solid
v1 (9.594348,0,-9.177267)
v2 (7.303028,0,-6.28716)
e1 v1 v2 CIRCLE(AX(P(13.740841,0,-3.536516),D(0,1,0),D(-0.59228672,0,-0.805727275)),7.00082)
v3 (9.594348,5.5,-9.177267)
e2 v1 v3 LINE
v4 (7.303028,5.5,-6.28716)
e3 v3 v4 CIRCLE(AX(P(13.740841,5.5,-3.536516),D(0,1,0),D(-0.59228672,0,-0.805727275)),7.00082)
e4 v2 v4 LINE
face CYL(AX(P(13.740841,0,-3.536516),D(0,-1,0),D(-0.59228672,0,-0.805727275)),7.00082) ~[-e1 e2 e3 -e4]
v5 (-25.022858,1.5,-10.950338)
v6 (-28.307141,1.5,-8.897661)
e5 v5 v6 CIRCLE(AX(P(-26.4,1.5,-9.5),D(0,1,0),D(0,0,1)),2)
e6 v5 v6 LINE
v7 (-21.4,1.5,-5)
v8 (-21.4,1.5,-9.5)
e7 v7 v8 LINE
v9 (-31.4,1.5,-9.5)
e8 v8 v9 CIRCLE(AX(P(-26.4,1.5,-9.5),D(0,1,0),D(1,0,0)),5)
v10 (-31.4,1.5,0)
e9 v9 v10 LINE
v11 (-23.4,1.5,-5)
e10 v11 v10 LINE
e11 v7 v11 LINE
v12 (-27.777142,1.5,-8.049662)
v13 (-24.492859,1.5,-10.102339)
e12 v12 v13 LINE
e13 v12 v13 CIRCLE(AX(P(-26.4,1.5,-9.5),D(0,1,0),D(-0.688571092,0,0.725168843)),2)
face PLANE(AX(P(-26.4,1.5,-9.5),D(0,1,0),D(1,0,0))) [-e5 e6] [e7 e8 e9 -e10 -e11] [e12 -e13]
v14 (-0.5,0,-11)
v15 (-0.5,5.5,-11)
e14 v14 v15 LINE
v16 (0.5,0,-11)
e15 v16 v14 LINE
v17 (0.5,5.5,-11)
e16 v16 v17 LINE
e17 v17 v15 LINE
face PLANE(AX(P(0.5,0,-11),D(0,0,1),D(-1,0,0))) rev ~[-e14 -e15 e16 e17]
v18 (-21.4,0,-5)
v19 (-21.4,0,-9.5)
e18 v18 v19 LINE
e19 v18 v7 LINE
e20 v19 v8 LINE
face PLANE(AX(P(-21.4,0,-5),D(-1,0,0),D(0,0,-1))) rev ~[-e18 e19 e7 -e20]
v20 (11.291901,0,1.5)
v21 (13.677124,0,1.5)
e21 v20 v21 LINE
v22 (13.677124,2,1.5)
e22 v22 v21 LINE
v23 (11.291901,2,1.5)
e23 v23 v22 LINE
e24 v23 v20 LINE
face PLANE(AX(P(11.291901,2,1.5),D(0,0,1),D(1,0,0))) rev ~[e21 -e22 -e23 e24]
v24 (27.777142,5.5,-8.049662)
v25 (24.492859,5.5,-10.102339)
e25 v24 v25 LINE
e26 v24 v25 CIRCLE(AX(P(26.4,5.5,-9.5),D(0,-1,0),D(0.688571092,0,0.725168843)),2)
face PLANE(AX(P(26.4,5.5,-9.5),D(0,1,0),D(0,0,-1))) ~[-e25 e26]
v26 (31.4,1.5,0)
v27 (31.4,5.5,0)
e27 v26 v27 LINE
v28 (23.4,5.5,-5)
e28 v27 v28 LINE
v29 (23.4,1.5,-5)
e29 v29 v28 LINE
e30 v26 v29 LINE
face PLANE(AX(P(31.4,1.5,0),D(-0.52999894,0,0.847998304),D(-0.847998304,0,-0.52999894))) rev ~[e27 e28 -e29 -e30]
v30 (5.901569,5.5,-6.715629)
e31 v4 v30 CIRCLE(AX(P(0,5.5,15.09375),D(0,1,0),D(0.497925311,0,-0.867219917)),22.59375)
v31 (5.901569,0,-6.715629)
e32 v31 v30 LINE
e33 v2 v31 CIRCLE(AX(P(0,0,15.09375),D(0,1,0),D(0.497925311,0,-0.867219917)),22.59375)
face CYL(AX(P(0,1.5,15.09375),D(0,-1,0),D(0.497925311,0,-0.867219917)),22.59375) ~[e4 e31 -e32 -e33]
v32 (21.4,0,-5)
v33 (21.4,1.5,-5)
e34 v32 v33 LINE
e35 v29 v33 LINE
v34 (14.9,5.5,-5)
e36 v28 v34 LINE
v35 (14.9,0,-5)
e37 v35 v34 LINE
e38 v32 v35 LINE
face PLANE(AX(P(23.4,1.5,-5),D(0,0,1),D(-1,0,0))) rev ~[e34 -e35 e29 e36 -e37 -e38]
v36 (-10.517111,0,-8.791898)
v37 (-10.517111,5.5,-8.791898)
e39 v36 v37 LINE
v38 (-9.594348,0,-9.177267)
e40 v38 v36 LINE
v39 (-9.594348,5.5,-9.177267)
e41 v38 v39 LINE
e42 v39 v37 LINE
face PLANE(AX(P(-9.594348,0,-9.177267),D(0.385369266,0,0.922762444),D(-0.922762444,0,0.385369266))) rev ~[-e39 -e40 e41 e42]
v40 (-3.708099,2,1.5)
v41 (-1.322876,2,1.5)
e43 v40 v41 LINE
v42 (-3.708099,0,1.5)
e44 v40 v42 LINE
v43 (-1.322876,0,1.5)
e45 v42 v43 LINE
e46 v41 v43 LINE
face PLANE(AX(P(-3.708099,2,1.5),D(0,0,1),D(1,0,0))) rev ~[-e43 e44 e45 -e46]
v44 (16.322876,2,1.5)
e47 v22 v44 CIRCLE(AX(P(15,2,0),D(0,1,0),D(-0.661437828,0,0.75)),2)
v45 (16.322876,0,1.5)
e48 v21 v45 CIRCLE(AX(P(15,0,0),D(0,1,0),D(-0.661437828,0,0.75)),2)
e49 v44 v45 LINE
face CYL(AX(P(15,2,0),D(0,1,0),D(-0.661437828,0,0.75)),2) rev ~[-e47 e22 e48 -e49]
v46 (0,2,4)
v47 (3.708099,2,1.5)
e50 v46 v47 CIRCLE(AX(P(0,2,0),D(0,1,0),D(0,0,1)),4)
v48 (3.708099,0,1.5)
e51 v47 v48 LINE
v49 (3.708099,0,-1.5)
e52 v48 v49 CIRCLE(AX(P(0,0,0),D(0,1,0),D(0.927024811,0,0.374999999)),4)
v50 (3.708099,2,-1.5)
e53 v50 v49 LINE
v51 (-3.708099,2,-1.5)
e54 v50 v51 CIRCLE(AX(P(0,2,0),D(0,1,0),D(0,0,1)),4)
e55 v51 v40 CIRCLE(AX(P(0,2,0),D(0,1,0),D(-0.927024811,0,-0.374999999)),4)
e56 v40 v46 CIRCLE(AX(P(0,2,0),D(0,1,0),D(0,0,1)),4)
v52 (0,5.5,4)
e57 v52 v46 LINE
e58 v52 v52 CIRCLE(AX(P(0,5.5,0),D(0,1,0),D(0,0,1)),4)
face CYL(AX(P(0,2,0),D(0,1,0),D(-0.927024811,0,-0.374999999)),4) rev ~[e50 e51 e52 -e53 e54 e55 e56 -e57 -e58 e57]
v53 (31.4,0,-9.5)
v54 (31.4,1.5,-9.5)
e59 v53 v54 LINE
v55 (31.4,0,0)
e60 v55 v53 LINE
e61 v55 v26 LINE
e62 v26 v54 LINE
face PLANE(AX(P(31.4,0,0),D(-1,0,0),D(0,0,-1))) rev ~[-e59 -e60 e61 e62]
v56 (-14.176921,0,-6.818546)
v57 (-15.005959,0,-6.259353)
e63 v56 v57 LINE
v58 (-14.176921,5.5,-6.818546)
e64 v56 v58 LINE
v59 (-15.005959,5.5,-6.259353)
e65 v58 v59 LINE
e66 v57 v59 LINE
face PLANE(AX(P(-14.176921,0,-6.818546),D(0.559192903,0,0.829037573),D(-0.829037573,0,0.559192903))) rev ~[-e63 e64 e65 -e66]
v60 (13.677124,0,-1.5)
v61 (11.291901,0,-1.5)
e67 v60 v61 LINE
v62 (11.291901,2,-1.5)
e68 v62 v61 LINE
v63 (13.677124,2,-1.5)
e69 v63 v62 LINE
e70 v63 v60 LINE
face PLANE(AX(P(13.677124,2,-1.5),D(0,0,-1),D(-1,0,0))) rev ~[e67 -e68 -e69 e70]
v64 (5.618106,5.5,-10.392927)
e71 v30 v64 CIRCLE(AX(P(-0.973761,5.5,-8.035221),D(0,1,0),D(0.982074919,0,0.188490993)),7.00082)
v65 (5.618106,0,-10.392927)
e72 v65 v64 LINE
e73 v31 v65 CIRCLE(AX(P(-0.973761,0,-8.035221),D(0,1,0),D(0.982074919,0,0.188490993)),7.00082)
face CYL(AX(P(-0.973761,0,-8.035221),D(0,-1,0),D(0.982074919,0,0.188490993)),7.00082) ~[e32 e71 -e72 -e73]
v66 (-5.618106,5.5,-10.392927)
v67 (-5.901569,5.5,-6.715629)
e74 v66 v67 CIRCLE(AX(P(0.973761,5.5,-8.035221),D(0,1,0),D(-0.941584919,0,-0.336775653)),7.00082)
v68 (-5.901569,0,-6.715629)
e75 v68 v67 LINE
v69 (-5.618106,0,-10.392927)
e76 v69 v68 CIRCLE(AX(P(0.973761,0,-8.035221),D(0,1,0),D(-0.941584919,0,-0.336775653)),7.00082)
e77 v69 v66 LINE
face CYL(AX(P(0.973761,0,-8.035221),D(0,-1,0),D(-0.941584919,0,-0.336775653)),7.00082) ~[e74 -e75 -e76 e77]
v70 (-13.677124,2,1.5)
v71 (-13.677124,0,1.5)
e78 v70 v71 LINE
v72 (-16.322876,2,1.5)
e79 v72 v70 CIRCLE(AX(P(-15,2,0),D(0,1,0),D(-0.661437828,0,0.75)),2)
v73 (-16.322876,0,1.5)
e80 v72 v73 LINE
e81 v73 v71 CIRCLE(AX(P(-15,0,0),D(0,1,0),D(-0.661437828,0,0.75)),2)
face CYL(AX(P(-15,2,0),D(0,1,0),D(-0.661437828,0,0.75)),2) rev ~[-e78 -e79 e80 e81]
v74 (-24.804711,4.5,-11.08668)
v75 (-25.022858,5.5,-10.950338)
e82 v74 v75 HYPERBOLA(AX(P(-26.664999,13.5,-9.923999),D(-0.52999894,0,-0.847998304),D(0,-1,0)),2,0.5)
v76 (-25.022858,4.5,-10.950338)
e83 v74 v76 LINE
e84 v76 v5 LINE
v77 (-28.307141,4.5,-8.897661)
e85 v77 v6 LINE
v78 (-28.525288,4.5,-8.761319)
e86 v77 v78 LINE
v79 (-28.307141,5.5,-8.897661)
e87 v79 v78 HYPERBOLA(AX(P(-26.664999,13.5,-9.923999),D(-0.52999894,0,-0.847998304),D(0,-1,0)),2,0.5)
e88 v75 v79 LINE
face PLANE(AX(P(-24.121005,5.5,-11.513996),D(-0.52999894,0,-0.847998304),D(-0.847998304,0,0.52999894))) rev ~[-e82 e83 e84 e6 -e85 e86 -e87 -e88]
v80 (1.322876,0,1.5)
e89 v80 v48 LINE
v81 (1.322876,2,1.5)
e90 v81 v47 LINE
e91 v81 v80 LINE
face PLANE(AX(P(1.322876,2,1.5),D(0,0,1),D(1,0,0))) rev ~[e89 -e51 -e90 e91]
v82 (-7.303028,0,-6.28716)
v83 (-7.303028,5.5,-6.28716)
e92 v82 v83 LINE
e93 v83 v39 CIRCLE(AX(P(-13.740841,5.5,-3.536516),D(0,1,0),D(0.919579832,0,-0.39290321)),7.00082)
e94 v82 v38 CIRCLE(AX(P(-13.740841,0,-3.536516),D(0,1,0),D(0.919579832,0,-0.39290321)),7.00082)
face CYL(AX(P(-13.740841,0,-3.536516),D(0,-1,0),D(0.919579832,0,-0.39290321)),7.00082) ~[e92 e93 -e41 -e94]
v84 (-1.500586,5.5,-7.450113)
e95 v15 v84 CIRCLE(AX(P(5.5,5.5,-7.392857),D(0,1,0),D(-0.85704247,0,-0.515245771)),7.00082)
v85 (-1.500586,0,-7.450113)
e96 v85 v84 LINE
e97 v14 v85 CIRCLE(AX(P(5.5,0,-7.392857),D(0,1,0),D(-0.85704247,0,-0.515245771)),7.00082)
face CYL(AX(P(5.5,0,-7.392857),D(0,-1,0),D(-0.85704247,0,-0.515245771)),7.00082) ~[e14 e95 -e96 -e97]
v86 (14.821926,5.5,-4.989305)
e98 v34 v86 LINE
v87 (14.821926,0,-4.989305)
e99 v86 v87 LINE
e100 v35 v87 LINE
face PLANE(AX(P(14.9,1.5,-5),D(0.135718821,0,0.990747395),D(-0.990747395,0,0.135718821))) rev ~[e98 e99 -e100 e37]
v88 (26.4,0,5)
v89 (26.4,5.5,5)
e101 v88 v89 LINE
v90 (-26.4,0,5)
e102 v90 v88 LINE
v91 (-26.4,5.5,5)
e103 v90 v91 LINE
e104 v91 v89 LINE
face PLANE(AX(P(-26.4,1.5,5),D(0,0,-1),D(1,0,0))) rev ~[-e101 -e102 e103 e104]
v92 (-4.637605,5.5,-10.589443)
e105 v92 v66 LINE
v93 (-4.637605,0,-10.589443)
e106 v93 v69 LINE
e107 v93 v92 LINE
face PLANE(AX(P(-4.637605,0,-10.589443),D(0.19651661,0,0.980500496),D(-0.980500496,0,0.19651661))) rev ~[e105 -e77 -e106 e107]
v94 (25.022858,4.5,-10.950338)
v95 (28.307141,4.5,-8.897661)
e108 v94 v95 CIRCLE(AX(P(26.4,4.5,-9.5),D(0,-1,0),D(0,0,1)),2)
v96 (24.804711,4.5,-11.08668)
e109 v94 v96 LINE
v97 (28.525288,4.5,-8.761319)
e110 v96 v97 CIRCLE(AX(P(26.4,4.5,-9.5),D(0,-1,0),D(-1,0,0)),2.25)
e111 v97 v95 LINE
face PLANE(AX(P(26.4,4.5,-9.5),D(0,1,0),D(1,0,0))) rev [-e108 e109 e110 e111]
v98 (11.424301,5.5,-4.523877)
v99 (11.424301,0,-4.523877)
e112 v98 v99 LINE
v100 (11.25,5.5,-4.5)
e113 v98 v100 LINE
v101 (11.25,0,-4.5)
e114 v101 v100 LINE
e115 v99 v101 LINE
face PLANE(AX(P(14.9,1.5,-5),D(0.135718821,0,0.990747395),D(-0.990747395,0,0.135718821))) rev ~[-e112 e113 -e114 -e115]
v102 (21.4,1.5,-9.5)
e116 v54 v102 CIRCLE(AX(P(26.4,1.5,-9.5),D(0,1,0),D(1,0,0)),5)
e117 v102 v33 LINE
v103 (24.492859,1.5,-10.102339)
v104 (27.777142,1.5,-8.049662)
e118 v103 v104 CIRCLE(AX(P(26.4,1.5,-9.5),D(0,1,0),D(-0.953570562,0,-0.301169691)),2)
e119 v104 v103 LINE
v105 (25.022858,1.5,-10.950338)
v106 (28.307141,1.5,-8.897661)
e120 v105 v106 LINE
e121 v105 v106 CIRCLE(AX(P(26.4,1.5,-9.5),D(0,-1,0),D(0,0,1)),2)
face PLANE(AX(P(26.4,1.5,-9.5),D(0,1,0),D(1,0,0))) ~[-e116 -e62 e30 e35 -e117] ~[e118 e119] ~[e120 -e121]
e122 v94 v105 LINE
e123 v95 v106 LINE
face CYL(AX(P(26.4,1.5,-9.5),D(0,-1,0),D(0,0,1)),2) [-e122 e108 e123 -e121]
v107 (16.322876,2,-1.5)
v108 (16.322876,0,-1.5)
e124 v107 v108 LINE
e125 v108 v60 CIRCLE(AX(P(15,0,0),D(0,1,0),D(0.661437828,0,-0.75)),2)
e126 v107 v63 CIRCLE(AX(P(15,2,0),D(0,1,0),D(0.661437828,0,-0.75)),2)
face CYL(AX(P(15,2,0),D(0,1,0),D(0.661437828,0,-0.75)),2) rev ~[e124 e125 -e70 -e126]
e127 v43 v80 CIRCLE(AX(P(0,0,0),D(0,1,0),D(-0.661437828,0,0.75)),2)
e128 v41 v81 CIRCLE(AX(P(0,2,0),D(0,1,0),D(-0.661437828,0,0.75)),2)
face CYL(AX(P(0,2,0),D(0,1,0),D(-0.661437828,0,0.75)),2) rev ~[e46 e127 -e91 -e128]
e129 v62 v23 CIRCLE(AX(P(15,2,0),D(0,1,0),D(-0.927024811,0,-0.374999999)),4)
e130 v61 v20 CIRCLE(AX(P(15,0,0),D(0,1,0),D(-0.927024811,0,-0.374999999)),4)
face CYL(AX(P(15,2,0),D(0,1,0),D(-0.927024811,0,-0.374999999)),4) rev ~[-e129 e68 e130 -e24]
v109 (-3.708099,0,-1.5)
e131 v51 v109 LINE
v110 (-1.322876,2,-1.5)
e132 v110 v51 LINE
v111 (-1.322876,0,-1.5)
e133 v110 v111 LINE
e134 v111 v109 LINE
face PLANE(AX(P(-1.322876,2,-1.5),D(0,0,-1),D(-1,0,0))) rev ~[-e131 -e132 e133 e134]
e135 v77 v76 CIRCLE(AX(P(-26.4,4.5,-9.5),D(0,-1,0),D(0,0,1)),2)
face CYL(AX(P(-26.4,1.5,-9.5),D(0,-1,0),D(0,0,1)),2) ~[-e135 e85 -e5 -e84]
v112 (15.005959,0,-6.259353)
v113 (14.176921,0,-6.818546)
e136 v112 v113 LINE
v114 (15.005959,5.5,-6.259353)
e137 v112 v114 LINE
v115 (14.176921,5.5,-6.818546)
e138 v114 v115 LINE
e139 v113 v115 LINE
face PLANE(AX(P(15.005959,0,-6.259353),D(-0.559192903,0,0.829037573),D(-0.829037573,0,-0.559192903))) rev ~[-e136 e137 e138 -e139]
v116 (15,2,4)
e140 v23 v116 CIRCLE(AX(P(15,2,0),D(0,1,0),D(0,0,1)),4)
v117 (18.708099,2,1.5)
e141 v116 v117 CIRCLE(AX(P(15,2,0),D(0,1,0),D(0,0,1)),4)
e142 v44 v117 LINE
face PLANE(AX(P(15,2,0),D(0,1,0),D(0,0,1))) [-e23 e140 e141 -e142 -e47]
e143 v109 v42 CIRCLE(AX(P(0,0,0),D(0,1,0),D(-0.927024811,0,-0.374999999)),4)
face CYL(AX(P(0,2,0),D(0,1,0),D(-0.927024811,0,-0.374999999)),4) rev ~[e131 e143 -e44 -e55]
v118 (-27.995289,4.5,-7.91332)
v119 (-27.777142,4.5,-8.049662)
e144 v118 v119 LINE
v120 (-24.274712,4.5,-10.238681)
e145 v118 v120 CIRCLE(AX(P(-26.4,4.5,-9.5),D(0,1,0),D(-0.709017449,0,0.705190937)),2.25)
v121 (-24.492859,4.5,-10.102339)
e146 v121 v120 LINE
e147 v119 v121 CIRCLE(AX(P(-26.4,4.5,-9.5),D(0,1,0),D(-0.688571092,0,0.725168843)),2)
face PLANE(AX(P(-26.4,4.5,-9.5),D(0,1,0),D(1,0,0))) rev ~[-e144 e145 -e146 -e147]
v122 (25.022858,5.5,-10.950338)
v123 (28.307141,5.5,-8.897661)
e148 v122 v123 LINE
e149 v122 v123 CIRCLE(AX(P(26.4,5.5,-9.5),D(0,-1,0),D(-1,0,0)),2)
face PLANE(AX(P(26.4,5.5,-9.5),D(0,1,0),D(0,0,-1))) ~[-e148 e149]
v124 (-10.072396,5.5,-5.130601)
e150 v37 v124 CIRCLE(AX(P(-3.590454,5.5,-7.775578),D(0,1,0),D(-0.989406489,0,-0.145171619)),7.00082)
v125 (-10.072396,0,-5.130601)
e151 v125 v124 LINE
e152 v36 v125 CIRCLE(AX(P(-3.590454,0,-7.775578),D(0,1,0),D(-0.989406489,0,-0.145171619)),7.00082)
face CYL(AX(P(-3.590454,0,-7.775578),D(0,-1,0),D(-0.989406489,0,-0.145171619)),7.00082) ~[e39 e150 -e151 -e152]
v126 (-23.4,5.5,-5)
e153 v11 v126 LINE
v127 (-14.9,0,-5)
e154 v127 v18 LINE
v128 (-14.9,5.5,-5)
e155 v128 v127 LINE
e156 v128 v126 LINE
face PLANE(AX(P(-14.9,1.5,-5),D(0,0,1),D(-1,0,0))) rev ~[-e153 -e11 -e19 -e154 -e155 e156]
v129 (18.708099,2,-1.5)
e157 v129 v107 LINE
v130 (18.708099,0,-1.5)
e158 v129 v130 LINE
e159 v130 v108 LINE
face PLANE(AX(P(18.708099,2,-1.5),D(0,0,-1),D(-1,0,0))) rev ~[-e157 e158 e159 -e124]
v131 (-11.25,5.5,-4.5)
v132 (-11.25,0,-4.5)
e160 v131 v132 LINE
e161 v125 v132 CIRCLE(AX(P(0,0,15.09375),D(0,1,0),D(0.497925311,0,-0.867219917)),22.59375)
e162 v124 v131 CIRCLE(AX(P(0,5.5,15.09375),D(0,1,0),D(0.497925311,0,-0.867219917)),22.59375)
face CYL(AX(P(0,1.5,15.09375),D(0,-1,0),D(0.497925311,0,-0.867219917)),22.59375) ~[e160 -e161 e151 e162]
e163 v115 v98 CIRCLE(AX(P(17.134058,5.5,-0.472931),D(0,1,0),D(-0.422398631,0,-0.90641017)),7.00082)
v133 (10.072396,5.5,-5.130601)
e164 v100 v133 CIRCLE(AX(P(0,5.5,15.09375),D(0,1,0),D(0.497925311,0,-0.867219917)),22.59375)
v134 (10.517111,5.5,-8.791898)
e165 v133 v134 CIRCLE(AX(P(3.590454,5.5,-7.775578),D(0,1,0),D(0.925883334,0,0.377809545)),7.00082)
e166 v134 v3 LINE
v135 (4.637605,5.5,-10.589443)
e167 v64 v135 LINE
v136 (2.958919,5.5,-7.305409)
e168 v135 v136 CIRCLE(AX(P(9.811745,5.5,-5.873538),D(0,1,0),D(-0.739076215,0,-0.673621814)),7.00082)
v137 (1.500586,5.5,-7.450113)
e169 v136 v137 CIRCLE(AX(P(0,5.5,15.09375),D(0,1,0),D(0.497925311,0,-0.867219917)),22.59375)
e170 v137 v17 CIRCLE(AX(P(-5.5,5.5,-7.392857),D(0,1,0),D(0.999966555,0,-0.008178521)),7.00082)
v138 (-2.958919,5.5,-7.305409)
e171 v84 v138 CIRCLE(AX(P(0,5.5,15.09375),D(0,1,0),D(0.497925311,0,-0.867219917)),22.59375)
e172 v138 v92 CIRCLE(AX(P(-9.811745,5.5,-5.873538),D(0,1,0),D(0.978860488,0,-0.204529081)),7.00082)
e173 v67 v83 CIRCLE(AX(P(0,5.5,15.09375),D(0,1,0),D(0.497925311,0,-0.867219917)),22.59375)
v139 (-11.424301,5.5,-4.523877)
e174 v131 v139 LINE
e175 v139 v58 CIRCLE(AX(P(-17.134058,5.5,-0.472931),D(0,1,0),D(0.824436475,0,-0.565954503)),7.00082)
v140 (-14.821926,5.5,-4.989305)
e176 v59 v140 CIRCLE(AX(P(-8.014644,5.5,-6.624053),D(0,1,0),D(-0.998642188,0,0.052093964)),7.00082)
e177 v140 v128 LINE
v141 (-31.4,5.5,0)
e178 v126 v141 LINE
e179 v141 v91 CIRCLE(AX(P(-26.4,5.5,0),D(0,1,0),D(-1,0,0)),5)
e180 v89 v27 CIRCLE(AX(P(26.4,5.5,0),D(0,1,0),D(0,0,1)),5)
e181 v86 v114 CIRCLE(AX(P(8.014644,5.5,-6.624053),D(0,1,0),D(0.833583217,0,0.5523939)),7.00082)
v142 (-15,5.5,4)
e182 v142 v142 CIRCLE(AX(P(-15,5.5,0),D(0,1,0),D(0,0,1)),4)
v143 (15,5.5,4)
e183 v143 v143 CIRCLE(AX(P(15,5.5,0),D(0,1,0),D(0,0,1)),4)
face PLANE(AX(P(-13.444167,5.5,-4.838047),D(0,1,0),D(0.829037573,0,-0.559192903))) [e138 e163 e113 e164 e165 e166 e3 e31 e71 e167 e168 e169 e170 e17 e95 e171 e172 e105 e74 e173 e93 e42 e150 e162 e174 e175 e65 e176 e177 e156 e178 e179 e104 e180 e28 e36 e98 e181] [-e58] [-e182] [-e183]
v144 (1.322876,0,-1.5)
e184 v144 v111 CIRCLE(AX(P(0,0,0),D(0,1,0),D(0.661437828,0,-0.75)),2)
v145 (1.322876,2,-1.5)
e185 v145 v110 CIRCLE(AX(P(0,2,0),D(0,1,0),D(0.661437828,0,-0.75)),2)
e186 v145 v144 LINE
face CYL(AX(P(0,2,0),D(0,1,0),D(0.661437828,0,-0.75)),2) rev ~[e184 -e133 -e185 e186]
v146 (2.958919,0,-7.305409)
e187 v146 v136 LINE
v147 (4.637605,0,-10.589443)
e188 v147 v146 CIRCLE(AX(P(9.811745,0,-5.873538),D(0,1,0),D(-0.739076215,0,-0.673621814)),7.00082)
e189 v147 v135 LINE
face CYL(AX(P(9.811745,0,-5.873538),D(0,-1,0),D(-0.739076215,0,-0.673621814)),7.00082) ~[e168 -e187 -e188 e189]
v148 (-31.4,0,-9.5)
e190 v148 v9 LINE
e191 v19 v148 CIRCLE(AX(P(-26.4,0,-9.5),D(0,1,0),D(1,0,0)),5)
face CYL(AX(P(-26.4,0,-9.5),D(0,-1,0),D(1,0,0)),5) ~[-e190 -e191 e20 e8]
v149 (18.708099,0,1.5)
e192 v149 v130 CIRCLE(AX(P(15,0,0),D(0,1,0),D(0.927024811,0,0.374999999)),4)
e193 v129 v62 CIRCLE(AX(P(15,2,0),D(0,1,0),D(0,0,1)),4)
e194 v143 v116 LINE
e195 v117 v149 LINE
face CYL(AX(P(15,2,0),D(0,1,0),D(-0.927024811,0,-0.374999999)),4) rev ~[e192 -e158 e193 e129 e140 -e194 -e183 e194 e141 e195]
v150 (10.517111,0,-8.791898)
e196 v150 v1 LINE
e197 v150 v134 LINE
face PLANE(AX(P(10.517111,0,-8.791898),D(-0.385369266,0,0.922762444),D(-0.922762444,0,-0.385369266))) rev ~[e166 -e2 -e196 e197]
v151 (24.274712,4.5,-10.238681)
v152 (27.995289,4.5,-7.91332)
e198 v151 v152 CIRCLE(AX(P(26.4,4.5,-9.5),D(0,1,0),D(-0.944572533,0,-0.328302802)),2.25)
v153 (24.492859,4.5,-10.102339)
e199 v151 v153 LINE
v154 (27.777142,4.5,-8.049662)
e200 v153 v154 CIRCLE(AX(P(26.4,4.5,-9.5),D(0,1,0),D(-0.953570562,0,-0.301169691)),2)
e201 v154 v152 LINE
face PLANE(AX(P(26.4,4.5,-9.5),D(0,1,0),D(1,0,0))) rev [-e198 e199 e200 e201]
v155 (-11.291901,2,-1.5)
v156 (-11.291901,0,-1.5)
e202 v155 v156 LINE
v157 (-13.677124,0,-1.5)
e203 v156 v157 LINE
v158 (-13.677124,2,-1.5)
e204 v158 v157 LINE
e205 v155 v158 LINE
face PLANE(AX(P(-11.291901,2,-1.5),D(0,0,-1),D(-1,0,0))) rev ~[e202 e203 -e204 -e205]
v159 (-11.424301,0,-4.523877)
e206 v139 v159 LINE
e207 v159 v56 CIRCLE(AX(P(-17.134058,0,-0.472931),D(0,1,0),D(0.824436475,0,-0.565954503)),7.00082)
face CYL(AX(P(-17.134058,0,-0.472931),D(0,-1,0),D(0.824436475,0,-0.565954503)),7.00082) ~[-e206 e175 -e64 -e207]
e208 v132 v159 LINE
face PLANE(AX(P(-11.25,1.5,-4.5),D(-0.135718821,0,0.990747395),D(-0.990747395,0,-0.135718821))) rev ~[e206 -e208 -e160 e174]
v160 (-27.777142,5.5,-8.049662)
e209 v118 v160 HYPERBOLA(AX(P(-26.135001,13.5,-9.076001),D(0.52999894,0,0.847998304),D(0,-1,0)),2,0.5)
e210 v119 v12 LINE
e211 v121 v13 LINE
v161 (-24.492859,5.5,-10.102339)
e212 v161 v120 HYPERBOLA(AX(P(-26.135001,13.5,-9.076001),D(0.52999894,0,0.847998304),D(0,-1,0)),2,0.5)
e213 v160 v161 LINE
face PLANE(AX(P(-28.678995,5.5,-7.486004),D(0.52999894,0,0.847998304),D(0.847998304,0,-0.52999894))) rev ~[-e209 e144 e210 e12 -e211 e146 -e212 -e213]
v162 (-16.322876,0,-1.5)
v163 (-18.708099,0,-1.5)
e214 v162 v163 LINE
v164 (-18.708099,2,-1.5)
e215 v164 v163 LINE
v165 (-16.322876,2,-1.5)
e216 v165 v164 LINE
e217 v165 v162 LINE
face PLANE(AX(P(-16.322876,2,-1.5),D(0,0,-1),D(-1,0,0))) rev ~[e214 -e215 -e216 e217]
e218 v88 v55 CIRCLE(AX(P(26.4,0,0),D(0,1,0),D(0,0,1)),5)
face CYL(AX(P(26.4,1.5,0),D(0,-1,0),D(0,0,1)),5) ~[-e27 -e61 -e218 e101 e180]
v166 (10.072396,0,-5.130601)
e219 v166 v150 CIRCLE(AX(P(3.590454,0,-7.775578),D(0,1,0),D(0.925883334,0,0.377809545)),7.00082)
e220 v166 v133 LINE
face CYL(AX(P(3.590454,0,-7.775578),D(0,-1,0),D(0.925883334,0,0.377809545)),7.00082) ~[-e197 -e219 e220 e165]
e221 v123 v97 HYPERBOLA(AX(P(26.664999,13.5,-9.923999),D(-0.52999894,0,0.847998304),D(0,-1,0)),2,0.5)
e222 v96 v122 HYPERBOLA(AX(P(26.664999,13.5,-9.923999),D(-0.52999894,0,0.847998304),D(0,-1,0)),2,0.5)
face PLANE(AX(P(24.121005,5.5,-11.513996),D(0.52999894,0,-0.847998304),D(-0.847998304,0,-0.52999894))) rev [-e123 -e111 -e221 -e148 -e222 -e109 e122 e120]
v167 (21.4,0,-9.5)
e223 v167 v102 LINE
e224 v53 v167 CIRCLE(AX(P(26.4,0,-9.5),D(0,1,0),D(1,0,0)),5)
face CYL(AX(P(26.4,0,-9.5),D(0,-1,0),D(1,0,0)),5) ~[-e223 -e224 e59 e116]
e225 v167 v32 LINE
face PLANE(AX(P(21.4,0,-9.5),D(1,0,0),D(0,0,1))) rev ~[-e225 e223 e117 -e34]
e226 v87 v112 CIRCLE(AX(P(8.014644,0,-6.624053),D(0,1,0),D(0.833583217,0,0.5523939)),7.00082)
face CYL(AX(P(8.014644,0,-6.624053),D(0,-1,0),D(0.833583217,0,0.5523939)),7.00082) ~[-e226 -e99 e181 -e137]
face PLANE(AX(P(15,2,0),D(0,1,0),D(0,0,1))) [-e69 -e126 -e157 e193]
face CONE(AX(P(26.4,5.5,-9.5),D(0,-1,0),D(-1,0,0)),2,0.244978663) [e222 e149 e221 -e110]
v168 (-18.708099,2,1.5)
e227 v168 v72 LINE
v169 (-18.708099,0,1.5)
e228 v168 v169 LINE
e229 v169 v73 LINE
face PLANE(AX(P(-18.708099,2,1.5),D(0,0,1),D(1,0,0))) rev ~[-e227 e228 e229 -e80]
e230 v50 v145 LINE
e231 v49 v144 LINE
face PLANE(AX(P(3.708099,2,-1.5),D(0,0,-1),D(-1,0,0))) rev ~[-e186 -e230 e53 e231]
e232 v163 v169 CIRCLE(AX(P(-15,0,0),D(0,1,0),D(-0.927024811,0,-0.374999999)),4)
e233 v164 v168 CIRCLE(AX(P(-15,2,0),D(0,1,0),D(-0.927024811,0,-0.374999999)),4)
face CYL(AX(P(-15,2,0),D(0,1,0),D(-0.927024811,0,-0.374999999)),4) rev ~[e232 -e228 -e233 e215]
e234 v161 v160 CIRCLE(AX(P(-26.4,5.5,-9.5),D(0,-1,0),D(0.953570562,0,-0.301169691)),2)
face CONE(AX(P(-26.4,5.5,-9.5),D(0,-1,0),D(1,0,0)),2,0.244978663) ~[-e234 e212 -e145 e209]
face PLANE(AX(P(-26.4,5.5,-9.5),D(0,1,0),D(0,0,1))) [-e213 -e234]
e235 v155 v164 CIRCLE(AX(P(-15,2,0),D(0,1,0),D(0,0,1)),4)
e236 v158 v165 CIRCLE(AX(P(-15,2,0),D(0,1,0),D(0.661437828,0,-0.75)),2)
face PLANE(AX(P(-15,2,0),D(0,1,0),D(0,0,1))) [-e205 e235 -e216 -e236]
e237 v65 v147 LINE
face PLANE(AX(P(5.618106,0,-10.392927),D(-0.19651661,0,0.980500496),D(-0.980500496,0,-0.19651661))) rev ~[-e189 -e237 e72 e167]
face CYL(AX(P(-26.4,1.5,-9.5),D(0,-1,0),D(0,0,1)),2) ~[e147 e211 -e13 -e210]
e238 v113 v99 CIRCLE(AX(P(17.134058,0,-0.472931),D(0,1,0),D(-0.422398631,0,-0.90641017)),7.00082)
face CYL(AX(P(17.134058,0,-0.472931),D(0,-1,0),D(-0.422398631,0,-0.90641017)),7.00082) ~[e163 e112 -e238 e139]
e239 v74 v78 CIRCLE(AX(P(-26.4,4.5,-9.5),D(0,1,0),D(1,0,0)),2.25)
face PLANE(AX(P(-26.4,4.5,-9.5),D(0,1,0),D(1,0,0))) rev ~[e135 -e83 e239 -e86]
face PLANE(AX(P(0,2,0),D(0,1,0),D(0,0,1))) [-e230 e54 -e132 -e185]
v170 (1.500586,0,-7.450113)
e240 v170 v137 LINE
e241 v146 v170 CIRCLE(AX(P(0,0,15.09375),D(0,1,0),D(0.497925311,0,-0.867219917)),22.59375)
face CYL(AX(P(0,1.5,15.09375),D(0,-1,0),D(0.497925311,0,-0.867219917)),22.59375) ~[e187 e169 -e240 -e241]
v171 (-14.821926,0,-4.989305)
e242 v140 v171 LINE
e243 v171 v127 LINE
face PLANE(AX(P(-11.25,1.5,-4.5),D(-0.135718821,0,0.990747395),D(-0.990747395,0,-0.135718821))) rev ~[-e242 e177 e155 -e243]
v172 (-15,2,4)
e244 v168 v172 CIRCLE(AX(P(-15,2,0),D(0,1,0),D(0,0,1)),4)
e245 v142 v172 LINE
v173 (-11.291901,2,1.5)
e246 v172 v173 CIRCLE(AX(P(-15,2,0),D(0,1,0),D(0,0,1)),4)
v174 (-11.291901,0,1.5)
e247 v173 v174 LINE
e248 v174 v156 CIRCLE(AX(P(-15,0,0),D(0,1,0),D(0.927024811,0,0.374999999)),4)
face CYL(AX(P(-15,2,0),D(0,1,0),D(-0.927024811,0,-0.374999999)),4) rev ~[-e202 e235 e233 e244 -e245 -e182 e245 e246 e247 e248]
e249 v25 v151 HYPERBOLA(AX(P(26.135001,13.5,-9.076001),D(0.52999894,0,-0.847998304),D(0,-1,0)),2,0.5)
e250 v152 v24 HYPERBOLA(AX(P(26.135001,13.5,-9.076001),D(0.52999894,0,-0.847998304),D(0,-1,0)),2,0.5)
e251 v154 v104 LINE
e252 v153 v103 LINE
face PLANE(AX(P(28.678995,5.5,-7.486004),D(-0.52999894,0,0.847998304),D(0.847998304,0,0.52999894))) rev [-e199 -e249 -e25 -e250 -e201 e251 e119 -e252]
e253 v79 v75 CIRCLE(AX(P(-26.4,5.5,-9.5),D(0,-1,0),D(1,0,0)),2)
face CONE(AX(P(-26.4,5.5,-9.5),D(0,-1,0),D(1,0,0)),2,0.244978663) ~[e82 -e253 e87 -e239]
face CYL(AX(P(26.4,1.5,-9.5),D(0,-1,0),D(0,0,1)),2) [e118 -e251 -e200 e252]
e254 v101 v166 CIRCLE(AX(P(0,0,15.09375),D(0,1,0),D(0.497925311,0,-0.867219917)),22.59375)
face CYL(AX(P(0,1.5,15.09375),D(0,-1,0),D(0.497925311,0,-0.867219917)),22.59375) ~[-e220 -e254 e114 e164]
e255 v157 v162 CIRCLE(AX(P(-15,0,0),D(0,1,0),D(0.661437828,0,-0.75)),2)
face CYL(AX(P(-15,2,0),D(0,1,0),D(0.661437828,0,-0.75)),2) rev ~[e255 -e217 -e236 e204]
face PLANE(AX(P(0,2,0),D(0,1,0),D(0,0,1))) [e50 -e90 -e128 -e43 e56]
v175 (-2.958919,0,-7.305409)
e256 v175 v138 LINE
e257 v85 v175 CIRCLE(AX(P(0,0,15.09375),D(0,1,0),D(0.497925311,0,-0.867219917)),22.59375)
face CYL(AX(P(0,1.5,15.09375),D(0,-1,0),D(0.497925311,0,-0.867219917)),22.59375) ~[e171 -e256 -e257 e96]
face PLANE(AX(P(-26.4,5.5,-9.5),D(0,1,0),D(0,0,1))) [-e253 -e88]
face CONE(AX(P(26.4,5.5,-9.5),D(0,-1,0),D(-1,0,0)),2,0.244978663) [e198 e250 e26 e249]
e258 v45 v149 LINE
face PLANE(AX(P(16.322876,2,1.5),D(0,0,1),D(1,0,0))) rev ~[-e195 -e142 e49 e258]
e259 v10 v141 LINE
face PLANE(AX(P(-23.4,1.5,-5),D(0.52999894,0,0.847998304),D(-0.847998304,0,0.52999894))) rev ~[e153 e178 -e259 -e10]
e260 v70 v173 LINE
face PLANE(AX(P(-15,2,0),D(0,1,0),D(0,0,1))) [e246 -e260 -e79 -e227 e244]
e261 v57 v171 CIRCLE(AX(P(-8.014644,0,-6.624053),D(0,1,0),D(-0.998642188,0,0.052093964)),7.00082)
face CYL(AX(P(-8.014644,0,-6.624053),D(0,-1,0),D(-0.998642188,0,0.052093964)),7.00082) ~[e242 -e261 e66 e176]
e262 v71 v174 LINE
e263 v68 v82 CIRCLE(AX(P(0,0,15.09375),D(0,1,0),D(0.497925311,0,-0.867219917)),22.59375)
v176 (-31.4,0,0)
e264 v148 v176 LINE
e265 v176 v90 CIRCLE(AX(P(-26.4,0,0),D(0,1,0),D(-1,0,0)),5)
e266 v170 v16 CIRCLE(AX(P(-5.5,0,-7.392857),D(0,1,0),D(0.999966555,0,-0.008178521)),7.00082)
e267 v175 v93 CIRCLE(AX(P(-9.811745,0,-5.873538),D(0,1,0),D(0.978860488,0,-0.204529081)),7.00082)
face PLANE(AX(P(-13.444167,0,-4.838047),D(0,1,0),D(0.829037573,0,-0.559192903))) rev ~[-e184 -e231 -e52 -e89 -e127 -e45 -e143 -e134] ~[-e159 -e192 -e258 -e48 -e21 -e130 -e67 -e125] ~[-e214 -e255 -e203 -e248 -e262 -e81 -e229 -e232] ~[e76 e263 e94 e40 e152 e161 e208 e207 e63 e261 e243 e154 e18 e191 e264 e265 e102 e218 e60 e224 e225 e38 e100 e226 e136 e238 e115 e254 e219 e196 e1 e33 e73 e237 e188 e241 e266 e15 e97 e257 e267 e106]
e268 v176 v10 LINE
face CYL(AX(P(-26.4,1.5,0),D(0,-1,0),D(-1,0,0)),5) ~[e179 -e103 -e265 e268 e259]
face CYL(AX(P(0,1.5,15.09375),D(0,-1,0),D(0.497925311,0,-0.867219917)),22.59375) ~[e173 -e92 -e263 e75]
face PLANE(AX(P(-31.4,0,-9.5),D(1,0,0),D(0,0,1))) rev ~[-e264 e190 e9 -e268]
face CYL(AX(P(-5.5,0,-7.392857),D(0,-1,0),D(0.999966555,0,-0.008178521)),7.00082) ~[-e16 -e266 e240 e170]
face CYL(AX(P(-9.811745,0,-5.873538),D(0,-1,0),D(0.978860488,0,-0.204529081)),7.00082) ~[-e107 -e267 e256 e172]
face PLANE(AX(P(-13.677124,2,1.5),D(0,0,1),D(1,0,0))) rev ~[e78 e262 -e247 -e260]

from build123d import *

# Parameters (mm, degrees)
EXTRUDE_1_DEPTH                  = 1.5
EXTRUDE_2_DEPTH                  = 4
EXTRUDE_3_DEPTH                  = 5.5
PATTERN_CIRCULAR_1_COUNT         = 4
PATTERN_CIRCULAR_1_ANGLE         = 34
PATTERN_CIRCULAR_2_COPY_1_DEPTH  = 5.5
PATTERN_CIRCULAR_2_COPY_2_DEPTH  = 5.5
PATTERN_CIRCULAR_2_COPY_3_DEPTH  = 5.5
PATTERN_CIRCULAR_2_COPY_4_DEPTH  = 5.5
PATTERN_CIRCULAR_2_COPY_5_DEPTH  = 5.5
PATTERN_CIRCULAR_2_COPY_6_DEPTH  = 5.5
PATTERN_CIRCULAR_2_COPY_7_DEPTH  = 5.5
PATTERN_CIRCULAR_2_COPY_8_DEPTH  = 5.5
PATTERN_CIRCULAR_2_COPY_9_DEPTH  = 5.5
PATTERN_CIRCULAR_2_COPY_10_DEPTH = 5.5
PATTERN_CIRCULAR_2_COPY_11_DEPTH = 5.5
PATTERN_CIRCULAR_2_COPY_12_DEPTH = 5.5
SKETCH_4_R                       = 4
CUT_EXTRUDE_1_DEPTH              = 3.5
CUT_EXTRUDE_2_DEPTH              = 35.76291127
PATTERN_LINEAR_1_COUNT           = 2
PATTERN_LINEAR_1_PITCH           = 15
PATTERN_LINEAR_1_COL_COUNT       = 2
PATTERN_LINEAR_1_COL_PITCH       = 15
SKETCH_6_R                       = 2
EXTRUDE_4_DEPTH                  = 4
SKETCH_8_R                       = 2
SKETCH_7_R                       = 2.25
CUT_EXTRUDE_3_DEPTH              = 4


with BuildPart() as part:
    # 草图1 → 凸台-拉伸1 (new body)
    with BuildSketch(Plane(origin=(0, 0, 0), x_dir=(1, 0, 0), z_dir=(0, 1, 0))):
        with BuildLine():
            Line((-26.4, -5), (26.4, -5))
            ThreePointArc((26.4, -5), (29.935533906, -3.535533906), (31.4, 0))
            Line((31.4, 0), (31.4, 9.5))
            ThreePointArc((31.4, 9.5), (26.4, 14.5), (21.4, 9.5))
            Line((21.4, 9.5), (21.4, 5))
            Line((21.4, 5), (14.9, 5))
            Line((14.9, 5), (11.25, 4.5))
            ThreePointArc((11.25, 4.5), (0, 7.5), (-11.25, 4.5))
            Line((-11.25, 4.5), (-14.9, 5))
            Line((-14.9, 5), (-21.4, 5))
            Line((-21.4, 5), (-21.4, 9.5))
            ThreePointArc((-21.4, 9.5), (-26.4, 14.5), (-31.4, 9.5))
            Line((-31.4, 9.5), (-31.4, 0))
            ThreePointArc((-31.4, 0), (-29.935533906, -3.535533906), (-26.4, -5))
        make_face()
    extrude(amount=EXTRUDE_1_DEPTH)

    # 草图2 → 凸台-拉伸2 (add)
    with BuildSketch(Plane(origin=(0, 1.5, 0), x_dir=(1, 0, 0), z_dir=(0, 1, 0))):
        with BuildLine():
            Line((-21.4, 5), (-23.4, 5))
            Line((-23.4, 5), (-31.4, 0))
            ThreePointArc((-31.4, 0), (-29.935533906, -3.535533906), (-26.4, -5))
            Line((-26.4, -5), (26.4, -5))
            ThreePointArc((26.4, -5), (29.935533906, -3.535533906), (31.4, 0))
            Line((31.4, 0), (23.4, 5))
            Line((23.4, 5), (21.4, 5))
            Line((21.4, 5), (14.9, 5))
            Line((14.9, 5), (11.25, 4.5))
            ThreePointArc((11.25, 4.5), (0, 7.5), (-11.25, 4.5))
            Line((-11.25, 4.5), (-14.9, 5))
            Line((-14.9, 5), (-21.4, 5))
        make_face()
    extrude(amount=EXTRUDE_2_DEPTH)

    # 草图3 → 凸台-拉伸3 (add)
    with BuildSketch(Plane(origin=(0, 0, 0), x_dir=(1, 0, 0), z_dir=(0, 1, 0))):
        with BuildLine():
            Line((0.5, 11), (-0.5, 11))
            ThreePointArc((-0.5, 11), (-1.238266188, 9.292132892), (-1.500585783, 7.450113497))
            ThreePointArc((-1.500585783, 7.450113497), (0, 7.5), (1.500585783, 7.450113497))
            ThreePointArc((1.500585783, 7.450113497), (1.238266188, 9.292132892), (0.5, 11))
        make_face()
    extrude_3 = extrude(amount=EXTRUDE_3_DEPTH)

    # 阵列(圆周)1: 凸台-拉伸3 ×4 about axis
    pattern_circular_1_axis = Axis((0, 0, 15.09375), (0, -1, 0))
    for i in range(1, PATTERN_CIRCULAR_1_COUNT):
        add(extrude_3.rotate(pattern_circular_1_axis, i * PATTERN_CIRCULAR_1_ANGLE / (PATTERN_CIRCULAR_1_COUNT - 1)))

    # 阵列(圆周)2 copy 1 sketch → 阵列(圆周)2 copy 1 (add)
    with BuildSketch(Plane(origin=(0, 0, 0), x_dir=(1, 0, 0), z_dir=(0, 1, 0))):
        with BuildLine():
            Line((0.5, 11), (-0.5, 11))
            ThreePointArc((-0.5, 11), (-1.238266188, 9.292132892), (-1.500585783, 7.450113497))
            ThreePointArc((-1.500585783, 7.450113497), (0, 7.5), (1.500585783, 7.450113497))
            ThreePointArc((1.500585783, 7.450113497), (1.238266188, 9.292132892), (0.5, 11))
        make_face()
    extrude(amount=PATTERN_CIRCULAR_2_COPY_1_DEPTH)

    # 阵列(圆周)2 copy 2 sketch → 阵列(圆周)2 copy 2 (add)
    with BuildSketch(Plane(origin=(-2.966172575, 0, 0.294320642), x_dir=(0.9805004957559792, 0, -0.1965166095328305), z_dir=(0, 1, 0))):
        with BuildLine():
            Line((0.5, 11), (-0.5, 11))
            ThreePointArc((-0.5, 11), (-1.238266188, 9.292132892), (-1.500585783, 7.450113497))
            ThreePointArc((-1.500585783, 7.450113497), (0, 7.5), (1.500585783, 7.450113497))
            ThreePointArc((1.500585783, 7.450113497), (1.238266188, 9.292132892), (0.5, 11))
        make_face()
    extrude(amount=PATTERN_CIRCULAR_2_COPY_2_DEPTH)

    # 阵列(圆周)2 copy 3 sketch → 阵列(圆周)2 copy 3 (add)
    with BuildSketch(Plane(origin=(-5.816667361, 0, 1.165804356), x_dir=(0.922762444355442, 0, -0.3853692661424491), z_dir=(0, 1, 0))):
        with BuildLine():
            Line((0.5, 11), (-0.5, 11))
            ThreePointArc((-0.5, 11), (-1.238266188, 9.292132892), (-1.500585783, 7.450113497))
            ThreePointArc((-1.500585783, 7.450113497), (0, 7.5), (1.500585783, 7.450113497))
            ThreePointArc((1.500585783, 7.450113497), (1.238266188, 9.292132892), (0.5, 11))
        make_face()
    extrude(amount=PATTERN_CIRCULAR_2_COPY_3_DEPTH)

    # 阵列(圆周)2 copy 4 sketch → 阵列(圆周)2 copy 4 (add)
    with BuildSketch(Plane(origin=(2.966172575, 0, 0.294320642), x_dir=(0.9805004957559792, 0, 0.1965166095328305), z_dir=(0, 1, 0))):
        with BuildLine():
            Line((0.5, 11), (-0.5, 11))
            ThreePointArc((-0.5, 11), (-1.238266188, 9.292132892), (-1.500585783, 7.450113497))
            ThreePointArc((-1.500585783, 7.450113497), (0, 7.5), (1.500585783, 7.450113497))
            ThreePointArc((1.500585783, 7.450113497), (1.238266188, 9.292132892), (0.5, 11))
        make_face()
    extrude(amount=PATTERN_CIRCULAR_2_COPY_4_DEPTH)

    # 阵列(圆周)2 copy 5 sketch → 阵列(圆周)2 copy 5 (add)
    with BuildSketch(Plane(origin=(0, 0, 0), x_dir=(1, 0, 0), z_dir=(0, 1, 0))):
        with BuildLine():
            Line((0.5, 11), (-0.5, 11))
            ThreePointArc((-0.5, 11), (-1.238266188, 9.292132892), (-1.500585783, 7.450113497))
            ThreePointArc((-1.500585783, 7.450113497), (0, 7.5), (1.500585783, 7.450113497))
            ThreePointArc((1.500585783, 7.450113497), (1.238266188, 9.292132892), (0.5, 11))
        make_face()
    extrude(amount=PATTERN_CIRCULAR_2_COPY_5_DEPTH)

    # 阵列(圆周)2 copy 6 sketch → 阵列(圆周)2 copy 6 (add)
    with BuildSketch(Plane(origin=(-2.966172575, 0, 0.294320642), x_dir=(0.9805004957559792, 0, -0.19651660953283062), z_dir=(0, 1, 0))):
        with BuildLine():
            Line((0.5, 11), (-0.5, 11))
            ThreePointArc((-0.5, 11), (-1.238266188, 9.292132892), (-1.500585783, 7.450113497))
            ThreePointArc((-1.500585783, 7.450113497), (0, 7.5), (1.500585783, 7.450113497))
            ThreePointArc((1.500585783, 7.450113497), (1.238266188, 9.292132892), (0.5, 11))
        make_face()
    extrude(amount=PATTERN_CIRCULAR_2_COPY_6_DEPTH)

    # 阵列(圆周)2 copy 7 sketch → 阵列(圆周)2 copy 7 (add)
    with BuildSketch(Plane(origin=(5.816667361, 0, 1.165804356), x_dir=(0.922762444355442, 0, 0.3853692661424491), z_dir=(0, 1, 0))):
        with BuildLine():
            Line((0.5, 11), (-0.5, 11))
            ThreePointArc((-0.5, 11), (-1.238266188, 9.292132892), (-1.500585783, 7.450113497))
            ThreePointArc((-1.500585783, 7.450113497), (0, 7.5), (1.500585783, 7.450113497))
            ThreePointArc((1.500585783, 7.450113497), (1.238266188, 9.292132892), (0.5, 11))
        make_face()
    extrude(amount=PATTERN_CIRCULAR_2_COPY_7_DEPTH)

    # 阵列(圆周)2 copy 8 sketch → 阵列(圆周)2 copy 8 (add)
    with BuildSketch(Plane(origin=(2.966172575, 0, 0.294320642), x_dir=(0.9805004957559792, 0, 0.19651660953283062), z_dir=(0, 1, 0))):
        with BuildLine():
            Line((0.5, 11), (-0.5, 11))
            ThreePointArc((-0.5, 11), (-1.238266188, 9.292132892), (-1.500585783, 7.450113497))
            ThreePointArc((-1.500585783, 7.450113497), (0, 7.5), (1.500585783, 7.450113497))
            ThreePointArc((1.500585783, 7.450113497), (1.238266188, 9.292132892), (0.5, 11))
        make_face()
    extrude(amount=PATTERN_CIRCULAR_2_COPY_8_DEPTH)

    # 阵列(圆周)2 copy 9 sketch → 阵列(圆周)2 copy 9 (add)
    with BuildSketch(Plane(origin=(0, 0, 0), x_dir=(1, 0, 0), z_dir=(0, 1, 0))):
        with BuildLine():
            Line((0.5, 11), (-0.5, 11))
            ThreePointArc((-0.5, 11), (-1.238266188, 9.292132892), (-1.500585783, 7.450113497))
            ThreePointArc((-1.500585783, 7.450113497), (0, 7.5), (1.500585783, 7.450113497))
            ThreePointArc((1.500585783, 7.450113497), (1.238266188, 9.292132892), (0.5, 11))
        make_face()
    extrude(amount=PATTERN_CIRCULAR_2_COPY_9_DEPTH)

    # 阵列(圆周)2 copy 10 sketch → 阵列(圆周)2 copy 10 (add)
    with BuildSketch(Plane(origin=(-2.966172575, 0, 0.294320642), x_dir=(0.9805004957559792, 0, -0.19651660953283054), z_dir=(0, 1, 0))):
        with BuildLine():
            Line((0.5, 11), (-0.5, 11))
            ThreePointArc((-0.5, 11), (-1.238266188, 9.292132892), (-1.500585783, 7.450113497))
            ThreePointArc((-1.500585783, 7.450113497), (0, 7.5), (1.500585783, 7.450113497))
            ThreePointArc((1.500585783, 7.450113497), (1.238266188, 9.292132892), (0.5, 11))
        make_face()
    extrude(amount=PATTERN_CIRCULAR_2_COPY_10_DEPTH)

    # 阵列(圆周)2 copy 11 sketch → 阵列(圆周)2 copy 11 (add)
    with BuildSketch(Plane(origin=(-5.816667361, 0, 1.165804356), x_dir=(0.9227624443554421, 0, -0.38536926614244904), z_dir=(0, 1, 0))):
        with BuildLine():
            Line((0.5, 11), (-0.5, 11))
            ThreePointArc((-0.5, 11), (-1.238266188, 9.292132892), (-1.500585783, 7.450113497))
            ThreePointArc((-1.500585783, 7.450113497), (0, 7.5), (1.500585783, 7.450113497))
            ThreePointArc((1.500585783, 7.450113497), (1.238266188, 9.292132892), (0.5, 11))
        make_face()
    extrude(amount=PATTERN_CIRCULAR_2_COPY_11_DEPTH)

    # 阵列(圆周)2 copy 12 sketch → 阵列(圆周)2 copy 12 (add)
    with BuildSketch(Plane(origin=(-8.440317887, 0, 2.580464139), x_dir=(0.829037572555041, 0, -0.5591929034707479), z_dir=(0, 1, 0))):
        with BuildLine():
            Line((0.5, 11), (-0.5, 11))
            ThreePointArc((-0.5, 11), (-1.238266188, 9.292132892), (-1.500585783, 7.450113497))
            ThreePointArc((-1.500585783, 7.450113497), (0, 7.5), (1.500585783, 7.450113497))
            ThreePointArc((1.500585783, 7.450113497), (1.238266188, 9.292132892), (0.5, 11))
        make_face()
    extrude(amount=PATTERN_CIRCULAR_2_COPY_12_DEPTH)

    # 草图4 → 切除-拉伸1 (cut)
    with BuildSketch(Plane(origin=(0, 5.5, 0), x_dir=(1, 0, 0), z_dir=(0, 1, 0))):
        with Locations(Location((0, 0, 0), (0, 0, 270))):
            Circle(SKETCH_4_R)
    cut_extrude_1 = extrude(amount=-CUT_EXTRUDE_1_DEPTH, mode=Mode.SUBTRACT)

    # 草图5 → 切除-拉伸2 (cut, through all)
    with BuildSketch(Plane(origin=(0, 2, 0), x_dir=(1, 0, 0), z_dir=(0, 1, 0))):
        with BuildLine():
            Line((-1.322875656, 1.5), (-3.708099244, 1.5))
            ThreePointArc((-3.708099244, 1.5), (-4, 0), (-3.708099244, -1.5))
            Line((-3.708099244, -1.5), (-1.322875656, -1.5))
            ThreePointArc((-1.322875656, -1.5), (0, -2), (1.322875656, -1.5))
            Line((1.322875656, -1.5), (3.708099244, -1.5))
            ThreePointArc((3.708099244, -1.5), (4, 0), (3.708099244, 1.5))
            Line((3.708099244, 1.5), (1.322875656, 1.5))
            ThreePointArc((1.322875656, 1.5), (0, 2), (-1.322875656, 1.5))
        make_face()
    cut_extrude_2 = extrude(amount=-CUT_EXTRUDE_2_DEPTH, mode=Mode.SUBTRACT)

    # 阵列(线性)1: 切除-拉伸1, 切除-拉伸2 ×2
    with Locations(*[(-i * PATTERN_LINEAR_1_PITCH, 0, 0) for i in range(1, PATTERN_LINEAR_1_COUNT)]):
        add(cut_extrude_1, mode=Mode.SUBTRACT)
        add(cut_extrude_2, mode=Mode.SUBTRACT)

    # 阵列(线性)1 col: 切除-拉伸1, 切除-拉伸2 ×2
    with Locations(*[(i * PATTERN_LINEAR_1_COL_PITCH, 0, 0) for i in range(1, PATTERN_LINEAR_1_COL_COUNT)]):
        add(cut_extrude_1, mode=Mode.SUBTRACT)
        add(cut_extrude_2, mode=Mode.SUBTRACT)

    # 草图6 → 凸台-拉伸4 (add)
    with BuildSketch(Plane(origin=(0, 1.5, 0), x_dir=(1, 0, 0), z_dir=(0, 1, 0))):
        with Locations(Location((-26.4, 9.5, 0), (0, 0, 270))):
            Circle(SKETCH_6_R)
    extrude_4 = extrude(amount=EXTRUDE_4_DEPTH)

    # 草图8 → 放样1 section 0
    with BuildSketch(Plane(origin=(0, 5.5, 0), x_dir=(1, 0, 0), z_dir=(0, 1, 0))):
        with Locations((-26.4, 9.5)):
            Circle(SKETCH_8_R)
    # 草图7 → 放样1 section 1
    with BuildSketch(Plane(origin=(0, 4.5, 0), x_dir=(1, 0, 0), z_dir=(0, 1, 0))):
        with Locations((-26.4, 9.5)):
            Circle(SKETCH_7_R)
    loft_1 = loft()

    # 草图9 → 切除-拉伸3 (cut)
    with BuildSketch(Plane(origin=(0, 5.5, 0), x_dir=(1, 0, 0), z_dir=(0, 1, 0))):
        Polygon((-28.678995442, 7.486004028), (-23.591005618, 10.665997668), (-24.121004558, 11.513995972), (-29.208994382, 8.334002332), align=None)
    cut_extrude_3 = extrude(amount=-CUT_EXTRUDE_3_DEPTH, mode=Mode.SUBTRACT)

    # 镜向1: 凸台-拉伸4, 放样1, 切除-拉伸3 across plane
    add(extrude_4.mirror(Plane(origin=(0, 0, 0), x_dir=(0, 0, 1), z_dir=(1, 0, 0))))
    add(loft_1.mirror(Plane(origin=(0, 0, 0), x_dir=(0, 0, 1), z_dir=(1, 0, 0))))
    add(cut_extrude_3.mirror(Plane(origin=(0, 0, 0), x_dir=(0, 0, 1), z_dir=(1, 0, 0))), mode=Mode.SUBTRACT)


solid = part.part
